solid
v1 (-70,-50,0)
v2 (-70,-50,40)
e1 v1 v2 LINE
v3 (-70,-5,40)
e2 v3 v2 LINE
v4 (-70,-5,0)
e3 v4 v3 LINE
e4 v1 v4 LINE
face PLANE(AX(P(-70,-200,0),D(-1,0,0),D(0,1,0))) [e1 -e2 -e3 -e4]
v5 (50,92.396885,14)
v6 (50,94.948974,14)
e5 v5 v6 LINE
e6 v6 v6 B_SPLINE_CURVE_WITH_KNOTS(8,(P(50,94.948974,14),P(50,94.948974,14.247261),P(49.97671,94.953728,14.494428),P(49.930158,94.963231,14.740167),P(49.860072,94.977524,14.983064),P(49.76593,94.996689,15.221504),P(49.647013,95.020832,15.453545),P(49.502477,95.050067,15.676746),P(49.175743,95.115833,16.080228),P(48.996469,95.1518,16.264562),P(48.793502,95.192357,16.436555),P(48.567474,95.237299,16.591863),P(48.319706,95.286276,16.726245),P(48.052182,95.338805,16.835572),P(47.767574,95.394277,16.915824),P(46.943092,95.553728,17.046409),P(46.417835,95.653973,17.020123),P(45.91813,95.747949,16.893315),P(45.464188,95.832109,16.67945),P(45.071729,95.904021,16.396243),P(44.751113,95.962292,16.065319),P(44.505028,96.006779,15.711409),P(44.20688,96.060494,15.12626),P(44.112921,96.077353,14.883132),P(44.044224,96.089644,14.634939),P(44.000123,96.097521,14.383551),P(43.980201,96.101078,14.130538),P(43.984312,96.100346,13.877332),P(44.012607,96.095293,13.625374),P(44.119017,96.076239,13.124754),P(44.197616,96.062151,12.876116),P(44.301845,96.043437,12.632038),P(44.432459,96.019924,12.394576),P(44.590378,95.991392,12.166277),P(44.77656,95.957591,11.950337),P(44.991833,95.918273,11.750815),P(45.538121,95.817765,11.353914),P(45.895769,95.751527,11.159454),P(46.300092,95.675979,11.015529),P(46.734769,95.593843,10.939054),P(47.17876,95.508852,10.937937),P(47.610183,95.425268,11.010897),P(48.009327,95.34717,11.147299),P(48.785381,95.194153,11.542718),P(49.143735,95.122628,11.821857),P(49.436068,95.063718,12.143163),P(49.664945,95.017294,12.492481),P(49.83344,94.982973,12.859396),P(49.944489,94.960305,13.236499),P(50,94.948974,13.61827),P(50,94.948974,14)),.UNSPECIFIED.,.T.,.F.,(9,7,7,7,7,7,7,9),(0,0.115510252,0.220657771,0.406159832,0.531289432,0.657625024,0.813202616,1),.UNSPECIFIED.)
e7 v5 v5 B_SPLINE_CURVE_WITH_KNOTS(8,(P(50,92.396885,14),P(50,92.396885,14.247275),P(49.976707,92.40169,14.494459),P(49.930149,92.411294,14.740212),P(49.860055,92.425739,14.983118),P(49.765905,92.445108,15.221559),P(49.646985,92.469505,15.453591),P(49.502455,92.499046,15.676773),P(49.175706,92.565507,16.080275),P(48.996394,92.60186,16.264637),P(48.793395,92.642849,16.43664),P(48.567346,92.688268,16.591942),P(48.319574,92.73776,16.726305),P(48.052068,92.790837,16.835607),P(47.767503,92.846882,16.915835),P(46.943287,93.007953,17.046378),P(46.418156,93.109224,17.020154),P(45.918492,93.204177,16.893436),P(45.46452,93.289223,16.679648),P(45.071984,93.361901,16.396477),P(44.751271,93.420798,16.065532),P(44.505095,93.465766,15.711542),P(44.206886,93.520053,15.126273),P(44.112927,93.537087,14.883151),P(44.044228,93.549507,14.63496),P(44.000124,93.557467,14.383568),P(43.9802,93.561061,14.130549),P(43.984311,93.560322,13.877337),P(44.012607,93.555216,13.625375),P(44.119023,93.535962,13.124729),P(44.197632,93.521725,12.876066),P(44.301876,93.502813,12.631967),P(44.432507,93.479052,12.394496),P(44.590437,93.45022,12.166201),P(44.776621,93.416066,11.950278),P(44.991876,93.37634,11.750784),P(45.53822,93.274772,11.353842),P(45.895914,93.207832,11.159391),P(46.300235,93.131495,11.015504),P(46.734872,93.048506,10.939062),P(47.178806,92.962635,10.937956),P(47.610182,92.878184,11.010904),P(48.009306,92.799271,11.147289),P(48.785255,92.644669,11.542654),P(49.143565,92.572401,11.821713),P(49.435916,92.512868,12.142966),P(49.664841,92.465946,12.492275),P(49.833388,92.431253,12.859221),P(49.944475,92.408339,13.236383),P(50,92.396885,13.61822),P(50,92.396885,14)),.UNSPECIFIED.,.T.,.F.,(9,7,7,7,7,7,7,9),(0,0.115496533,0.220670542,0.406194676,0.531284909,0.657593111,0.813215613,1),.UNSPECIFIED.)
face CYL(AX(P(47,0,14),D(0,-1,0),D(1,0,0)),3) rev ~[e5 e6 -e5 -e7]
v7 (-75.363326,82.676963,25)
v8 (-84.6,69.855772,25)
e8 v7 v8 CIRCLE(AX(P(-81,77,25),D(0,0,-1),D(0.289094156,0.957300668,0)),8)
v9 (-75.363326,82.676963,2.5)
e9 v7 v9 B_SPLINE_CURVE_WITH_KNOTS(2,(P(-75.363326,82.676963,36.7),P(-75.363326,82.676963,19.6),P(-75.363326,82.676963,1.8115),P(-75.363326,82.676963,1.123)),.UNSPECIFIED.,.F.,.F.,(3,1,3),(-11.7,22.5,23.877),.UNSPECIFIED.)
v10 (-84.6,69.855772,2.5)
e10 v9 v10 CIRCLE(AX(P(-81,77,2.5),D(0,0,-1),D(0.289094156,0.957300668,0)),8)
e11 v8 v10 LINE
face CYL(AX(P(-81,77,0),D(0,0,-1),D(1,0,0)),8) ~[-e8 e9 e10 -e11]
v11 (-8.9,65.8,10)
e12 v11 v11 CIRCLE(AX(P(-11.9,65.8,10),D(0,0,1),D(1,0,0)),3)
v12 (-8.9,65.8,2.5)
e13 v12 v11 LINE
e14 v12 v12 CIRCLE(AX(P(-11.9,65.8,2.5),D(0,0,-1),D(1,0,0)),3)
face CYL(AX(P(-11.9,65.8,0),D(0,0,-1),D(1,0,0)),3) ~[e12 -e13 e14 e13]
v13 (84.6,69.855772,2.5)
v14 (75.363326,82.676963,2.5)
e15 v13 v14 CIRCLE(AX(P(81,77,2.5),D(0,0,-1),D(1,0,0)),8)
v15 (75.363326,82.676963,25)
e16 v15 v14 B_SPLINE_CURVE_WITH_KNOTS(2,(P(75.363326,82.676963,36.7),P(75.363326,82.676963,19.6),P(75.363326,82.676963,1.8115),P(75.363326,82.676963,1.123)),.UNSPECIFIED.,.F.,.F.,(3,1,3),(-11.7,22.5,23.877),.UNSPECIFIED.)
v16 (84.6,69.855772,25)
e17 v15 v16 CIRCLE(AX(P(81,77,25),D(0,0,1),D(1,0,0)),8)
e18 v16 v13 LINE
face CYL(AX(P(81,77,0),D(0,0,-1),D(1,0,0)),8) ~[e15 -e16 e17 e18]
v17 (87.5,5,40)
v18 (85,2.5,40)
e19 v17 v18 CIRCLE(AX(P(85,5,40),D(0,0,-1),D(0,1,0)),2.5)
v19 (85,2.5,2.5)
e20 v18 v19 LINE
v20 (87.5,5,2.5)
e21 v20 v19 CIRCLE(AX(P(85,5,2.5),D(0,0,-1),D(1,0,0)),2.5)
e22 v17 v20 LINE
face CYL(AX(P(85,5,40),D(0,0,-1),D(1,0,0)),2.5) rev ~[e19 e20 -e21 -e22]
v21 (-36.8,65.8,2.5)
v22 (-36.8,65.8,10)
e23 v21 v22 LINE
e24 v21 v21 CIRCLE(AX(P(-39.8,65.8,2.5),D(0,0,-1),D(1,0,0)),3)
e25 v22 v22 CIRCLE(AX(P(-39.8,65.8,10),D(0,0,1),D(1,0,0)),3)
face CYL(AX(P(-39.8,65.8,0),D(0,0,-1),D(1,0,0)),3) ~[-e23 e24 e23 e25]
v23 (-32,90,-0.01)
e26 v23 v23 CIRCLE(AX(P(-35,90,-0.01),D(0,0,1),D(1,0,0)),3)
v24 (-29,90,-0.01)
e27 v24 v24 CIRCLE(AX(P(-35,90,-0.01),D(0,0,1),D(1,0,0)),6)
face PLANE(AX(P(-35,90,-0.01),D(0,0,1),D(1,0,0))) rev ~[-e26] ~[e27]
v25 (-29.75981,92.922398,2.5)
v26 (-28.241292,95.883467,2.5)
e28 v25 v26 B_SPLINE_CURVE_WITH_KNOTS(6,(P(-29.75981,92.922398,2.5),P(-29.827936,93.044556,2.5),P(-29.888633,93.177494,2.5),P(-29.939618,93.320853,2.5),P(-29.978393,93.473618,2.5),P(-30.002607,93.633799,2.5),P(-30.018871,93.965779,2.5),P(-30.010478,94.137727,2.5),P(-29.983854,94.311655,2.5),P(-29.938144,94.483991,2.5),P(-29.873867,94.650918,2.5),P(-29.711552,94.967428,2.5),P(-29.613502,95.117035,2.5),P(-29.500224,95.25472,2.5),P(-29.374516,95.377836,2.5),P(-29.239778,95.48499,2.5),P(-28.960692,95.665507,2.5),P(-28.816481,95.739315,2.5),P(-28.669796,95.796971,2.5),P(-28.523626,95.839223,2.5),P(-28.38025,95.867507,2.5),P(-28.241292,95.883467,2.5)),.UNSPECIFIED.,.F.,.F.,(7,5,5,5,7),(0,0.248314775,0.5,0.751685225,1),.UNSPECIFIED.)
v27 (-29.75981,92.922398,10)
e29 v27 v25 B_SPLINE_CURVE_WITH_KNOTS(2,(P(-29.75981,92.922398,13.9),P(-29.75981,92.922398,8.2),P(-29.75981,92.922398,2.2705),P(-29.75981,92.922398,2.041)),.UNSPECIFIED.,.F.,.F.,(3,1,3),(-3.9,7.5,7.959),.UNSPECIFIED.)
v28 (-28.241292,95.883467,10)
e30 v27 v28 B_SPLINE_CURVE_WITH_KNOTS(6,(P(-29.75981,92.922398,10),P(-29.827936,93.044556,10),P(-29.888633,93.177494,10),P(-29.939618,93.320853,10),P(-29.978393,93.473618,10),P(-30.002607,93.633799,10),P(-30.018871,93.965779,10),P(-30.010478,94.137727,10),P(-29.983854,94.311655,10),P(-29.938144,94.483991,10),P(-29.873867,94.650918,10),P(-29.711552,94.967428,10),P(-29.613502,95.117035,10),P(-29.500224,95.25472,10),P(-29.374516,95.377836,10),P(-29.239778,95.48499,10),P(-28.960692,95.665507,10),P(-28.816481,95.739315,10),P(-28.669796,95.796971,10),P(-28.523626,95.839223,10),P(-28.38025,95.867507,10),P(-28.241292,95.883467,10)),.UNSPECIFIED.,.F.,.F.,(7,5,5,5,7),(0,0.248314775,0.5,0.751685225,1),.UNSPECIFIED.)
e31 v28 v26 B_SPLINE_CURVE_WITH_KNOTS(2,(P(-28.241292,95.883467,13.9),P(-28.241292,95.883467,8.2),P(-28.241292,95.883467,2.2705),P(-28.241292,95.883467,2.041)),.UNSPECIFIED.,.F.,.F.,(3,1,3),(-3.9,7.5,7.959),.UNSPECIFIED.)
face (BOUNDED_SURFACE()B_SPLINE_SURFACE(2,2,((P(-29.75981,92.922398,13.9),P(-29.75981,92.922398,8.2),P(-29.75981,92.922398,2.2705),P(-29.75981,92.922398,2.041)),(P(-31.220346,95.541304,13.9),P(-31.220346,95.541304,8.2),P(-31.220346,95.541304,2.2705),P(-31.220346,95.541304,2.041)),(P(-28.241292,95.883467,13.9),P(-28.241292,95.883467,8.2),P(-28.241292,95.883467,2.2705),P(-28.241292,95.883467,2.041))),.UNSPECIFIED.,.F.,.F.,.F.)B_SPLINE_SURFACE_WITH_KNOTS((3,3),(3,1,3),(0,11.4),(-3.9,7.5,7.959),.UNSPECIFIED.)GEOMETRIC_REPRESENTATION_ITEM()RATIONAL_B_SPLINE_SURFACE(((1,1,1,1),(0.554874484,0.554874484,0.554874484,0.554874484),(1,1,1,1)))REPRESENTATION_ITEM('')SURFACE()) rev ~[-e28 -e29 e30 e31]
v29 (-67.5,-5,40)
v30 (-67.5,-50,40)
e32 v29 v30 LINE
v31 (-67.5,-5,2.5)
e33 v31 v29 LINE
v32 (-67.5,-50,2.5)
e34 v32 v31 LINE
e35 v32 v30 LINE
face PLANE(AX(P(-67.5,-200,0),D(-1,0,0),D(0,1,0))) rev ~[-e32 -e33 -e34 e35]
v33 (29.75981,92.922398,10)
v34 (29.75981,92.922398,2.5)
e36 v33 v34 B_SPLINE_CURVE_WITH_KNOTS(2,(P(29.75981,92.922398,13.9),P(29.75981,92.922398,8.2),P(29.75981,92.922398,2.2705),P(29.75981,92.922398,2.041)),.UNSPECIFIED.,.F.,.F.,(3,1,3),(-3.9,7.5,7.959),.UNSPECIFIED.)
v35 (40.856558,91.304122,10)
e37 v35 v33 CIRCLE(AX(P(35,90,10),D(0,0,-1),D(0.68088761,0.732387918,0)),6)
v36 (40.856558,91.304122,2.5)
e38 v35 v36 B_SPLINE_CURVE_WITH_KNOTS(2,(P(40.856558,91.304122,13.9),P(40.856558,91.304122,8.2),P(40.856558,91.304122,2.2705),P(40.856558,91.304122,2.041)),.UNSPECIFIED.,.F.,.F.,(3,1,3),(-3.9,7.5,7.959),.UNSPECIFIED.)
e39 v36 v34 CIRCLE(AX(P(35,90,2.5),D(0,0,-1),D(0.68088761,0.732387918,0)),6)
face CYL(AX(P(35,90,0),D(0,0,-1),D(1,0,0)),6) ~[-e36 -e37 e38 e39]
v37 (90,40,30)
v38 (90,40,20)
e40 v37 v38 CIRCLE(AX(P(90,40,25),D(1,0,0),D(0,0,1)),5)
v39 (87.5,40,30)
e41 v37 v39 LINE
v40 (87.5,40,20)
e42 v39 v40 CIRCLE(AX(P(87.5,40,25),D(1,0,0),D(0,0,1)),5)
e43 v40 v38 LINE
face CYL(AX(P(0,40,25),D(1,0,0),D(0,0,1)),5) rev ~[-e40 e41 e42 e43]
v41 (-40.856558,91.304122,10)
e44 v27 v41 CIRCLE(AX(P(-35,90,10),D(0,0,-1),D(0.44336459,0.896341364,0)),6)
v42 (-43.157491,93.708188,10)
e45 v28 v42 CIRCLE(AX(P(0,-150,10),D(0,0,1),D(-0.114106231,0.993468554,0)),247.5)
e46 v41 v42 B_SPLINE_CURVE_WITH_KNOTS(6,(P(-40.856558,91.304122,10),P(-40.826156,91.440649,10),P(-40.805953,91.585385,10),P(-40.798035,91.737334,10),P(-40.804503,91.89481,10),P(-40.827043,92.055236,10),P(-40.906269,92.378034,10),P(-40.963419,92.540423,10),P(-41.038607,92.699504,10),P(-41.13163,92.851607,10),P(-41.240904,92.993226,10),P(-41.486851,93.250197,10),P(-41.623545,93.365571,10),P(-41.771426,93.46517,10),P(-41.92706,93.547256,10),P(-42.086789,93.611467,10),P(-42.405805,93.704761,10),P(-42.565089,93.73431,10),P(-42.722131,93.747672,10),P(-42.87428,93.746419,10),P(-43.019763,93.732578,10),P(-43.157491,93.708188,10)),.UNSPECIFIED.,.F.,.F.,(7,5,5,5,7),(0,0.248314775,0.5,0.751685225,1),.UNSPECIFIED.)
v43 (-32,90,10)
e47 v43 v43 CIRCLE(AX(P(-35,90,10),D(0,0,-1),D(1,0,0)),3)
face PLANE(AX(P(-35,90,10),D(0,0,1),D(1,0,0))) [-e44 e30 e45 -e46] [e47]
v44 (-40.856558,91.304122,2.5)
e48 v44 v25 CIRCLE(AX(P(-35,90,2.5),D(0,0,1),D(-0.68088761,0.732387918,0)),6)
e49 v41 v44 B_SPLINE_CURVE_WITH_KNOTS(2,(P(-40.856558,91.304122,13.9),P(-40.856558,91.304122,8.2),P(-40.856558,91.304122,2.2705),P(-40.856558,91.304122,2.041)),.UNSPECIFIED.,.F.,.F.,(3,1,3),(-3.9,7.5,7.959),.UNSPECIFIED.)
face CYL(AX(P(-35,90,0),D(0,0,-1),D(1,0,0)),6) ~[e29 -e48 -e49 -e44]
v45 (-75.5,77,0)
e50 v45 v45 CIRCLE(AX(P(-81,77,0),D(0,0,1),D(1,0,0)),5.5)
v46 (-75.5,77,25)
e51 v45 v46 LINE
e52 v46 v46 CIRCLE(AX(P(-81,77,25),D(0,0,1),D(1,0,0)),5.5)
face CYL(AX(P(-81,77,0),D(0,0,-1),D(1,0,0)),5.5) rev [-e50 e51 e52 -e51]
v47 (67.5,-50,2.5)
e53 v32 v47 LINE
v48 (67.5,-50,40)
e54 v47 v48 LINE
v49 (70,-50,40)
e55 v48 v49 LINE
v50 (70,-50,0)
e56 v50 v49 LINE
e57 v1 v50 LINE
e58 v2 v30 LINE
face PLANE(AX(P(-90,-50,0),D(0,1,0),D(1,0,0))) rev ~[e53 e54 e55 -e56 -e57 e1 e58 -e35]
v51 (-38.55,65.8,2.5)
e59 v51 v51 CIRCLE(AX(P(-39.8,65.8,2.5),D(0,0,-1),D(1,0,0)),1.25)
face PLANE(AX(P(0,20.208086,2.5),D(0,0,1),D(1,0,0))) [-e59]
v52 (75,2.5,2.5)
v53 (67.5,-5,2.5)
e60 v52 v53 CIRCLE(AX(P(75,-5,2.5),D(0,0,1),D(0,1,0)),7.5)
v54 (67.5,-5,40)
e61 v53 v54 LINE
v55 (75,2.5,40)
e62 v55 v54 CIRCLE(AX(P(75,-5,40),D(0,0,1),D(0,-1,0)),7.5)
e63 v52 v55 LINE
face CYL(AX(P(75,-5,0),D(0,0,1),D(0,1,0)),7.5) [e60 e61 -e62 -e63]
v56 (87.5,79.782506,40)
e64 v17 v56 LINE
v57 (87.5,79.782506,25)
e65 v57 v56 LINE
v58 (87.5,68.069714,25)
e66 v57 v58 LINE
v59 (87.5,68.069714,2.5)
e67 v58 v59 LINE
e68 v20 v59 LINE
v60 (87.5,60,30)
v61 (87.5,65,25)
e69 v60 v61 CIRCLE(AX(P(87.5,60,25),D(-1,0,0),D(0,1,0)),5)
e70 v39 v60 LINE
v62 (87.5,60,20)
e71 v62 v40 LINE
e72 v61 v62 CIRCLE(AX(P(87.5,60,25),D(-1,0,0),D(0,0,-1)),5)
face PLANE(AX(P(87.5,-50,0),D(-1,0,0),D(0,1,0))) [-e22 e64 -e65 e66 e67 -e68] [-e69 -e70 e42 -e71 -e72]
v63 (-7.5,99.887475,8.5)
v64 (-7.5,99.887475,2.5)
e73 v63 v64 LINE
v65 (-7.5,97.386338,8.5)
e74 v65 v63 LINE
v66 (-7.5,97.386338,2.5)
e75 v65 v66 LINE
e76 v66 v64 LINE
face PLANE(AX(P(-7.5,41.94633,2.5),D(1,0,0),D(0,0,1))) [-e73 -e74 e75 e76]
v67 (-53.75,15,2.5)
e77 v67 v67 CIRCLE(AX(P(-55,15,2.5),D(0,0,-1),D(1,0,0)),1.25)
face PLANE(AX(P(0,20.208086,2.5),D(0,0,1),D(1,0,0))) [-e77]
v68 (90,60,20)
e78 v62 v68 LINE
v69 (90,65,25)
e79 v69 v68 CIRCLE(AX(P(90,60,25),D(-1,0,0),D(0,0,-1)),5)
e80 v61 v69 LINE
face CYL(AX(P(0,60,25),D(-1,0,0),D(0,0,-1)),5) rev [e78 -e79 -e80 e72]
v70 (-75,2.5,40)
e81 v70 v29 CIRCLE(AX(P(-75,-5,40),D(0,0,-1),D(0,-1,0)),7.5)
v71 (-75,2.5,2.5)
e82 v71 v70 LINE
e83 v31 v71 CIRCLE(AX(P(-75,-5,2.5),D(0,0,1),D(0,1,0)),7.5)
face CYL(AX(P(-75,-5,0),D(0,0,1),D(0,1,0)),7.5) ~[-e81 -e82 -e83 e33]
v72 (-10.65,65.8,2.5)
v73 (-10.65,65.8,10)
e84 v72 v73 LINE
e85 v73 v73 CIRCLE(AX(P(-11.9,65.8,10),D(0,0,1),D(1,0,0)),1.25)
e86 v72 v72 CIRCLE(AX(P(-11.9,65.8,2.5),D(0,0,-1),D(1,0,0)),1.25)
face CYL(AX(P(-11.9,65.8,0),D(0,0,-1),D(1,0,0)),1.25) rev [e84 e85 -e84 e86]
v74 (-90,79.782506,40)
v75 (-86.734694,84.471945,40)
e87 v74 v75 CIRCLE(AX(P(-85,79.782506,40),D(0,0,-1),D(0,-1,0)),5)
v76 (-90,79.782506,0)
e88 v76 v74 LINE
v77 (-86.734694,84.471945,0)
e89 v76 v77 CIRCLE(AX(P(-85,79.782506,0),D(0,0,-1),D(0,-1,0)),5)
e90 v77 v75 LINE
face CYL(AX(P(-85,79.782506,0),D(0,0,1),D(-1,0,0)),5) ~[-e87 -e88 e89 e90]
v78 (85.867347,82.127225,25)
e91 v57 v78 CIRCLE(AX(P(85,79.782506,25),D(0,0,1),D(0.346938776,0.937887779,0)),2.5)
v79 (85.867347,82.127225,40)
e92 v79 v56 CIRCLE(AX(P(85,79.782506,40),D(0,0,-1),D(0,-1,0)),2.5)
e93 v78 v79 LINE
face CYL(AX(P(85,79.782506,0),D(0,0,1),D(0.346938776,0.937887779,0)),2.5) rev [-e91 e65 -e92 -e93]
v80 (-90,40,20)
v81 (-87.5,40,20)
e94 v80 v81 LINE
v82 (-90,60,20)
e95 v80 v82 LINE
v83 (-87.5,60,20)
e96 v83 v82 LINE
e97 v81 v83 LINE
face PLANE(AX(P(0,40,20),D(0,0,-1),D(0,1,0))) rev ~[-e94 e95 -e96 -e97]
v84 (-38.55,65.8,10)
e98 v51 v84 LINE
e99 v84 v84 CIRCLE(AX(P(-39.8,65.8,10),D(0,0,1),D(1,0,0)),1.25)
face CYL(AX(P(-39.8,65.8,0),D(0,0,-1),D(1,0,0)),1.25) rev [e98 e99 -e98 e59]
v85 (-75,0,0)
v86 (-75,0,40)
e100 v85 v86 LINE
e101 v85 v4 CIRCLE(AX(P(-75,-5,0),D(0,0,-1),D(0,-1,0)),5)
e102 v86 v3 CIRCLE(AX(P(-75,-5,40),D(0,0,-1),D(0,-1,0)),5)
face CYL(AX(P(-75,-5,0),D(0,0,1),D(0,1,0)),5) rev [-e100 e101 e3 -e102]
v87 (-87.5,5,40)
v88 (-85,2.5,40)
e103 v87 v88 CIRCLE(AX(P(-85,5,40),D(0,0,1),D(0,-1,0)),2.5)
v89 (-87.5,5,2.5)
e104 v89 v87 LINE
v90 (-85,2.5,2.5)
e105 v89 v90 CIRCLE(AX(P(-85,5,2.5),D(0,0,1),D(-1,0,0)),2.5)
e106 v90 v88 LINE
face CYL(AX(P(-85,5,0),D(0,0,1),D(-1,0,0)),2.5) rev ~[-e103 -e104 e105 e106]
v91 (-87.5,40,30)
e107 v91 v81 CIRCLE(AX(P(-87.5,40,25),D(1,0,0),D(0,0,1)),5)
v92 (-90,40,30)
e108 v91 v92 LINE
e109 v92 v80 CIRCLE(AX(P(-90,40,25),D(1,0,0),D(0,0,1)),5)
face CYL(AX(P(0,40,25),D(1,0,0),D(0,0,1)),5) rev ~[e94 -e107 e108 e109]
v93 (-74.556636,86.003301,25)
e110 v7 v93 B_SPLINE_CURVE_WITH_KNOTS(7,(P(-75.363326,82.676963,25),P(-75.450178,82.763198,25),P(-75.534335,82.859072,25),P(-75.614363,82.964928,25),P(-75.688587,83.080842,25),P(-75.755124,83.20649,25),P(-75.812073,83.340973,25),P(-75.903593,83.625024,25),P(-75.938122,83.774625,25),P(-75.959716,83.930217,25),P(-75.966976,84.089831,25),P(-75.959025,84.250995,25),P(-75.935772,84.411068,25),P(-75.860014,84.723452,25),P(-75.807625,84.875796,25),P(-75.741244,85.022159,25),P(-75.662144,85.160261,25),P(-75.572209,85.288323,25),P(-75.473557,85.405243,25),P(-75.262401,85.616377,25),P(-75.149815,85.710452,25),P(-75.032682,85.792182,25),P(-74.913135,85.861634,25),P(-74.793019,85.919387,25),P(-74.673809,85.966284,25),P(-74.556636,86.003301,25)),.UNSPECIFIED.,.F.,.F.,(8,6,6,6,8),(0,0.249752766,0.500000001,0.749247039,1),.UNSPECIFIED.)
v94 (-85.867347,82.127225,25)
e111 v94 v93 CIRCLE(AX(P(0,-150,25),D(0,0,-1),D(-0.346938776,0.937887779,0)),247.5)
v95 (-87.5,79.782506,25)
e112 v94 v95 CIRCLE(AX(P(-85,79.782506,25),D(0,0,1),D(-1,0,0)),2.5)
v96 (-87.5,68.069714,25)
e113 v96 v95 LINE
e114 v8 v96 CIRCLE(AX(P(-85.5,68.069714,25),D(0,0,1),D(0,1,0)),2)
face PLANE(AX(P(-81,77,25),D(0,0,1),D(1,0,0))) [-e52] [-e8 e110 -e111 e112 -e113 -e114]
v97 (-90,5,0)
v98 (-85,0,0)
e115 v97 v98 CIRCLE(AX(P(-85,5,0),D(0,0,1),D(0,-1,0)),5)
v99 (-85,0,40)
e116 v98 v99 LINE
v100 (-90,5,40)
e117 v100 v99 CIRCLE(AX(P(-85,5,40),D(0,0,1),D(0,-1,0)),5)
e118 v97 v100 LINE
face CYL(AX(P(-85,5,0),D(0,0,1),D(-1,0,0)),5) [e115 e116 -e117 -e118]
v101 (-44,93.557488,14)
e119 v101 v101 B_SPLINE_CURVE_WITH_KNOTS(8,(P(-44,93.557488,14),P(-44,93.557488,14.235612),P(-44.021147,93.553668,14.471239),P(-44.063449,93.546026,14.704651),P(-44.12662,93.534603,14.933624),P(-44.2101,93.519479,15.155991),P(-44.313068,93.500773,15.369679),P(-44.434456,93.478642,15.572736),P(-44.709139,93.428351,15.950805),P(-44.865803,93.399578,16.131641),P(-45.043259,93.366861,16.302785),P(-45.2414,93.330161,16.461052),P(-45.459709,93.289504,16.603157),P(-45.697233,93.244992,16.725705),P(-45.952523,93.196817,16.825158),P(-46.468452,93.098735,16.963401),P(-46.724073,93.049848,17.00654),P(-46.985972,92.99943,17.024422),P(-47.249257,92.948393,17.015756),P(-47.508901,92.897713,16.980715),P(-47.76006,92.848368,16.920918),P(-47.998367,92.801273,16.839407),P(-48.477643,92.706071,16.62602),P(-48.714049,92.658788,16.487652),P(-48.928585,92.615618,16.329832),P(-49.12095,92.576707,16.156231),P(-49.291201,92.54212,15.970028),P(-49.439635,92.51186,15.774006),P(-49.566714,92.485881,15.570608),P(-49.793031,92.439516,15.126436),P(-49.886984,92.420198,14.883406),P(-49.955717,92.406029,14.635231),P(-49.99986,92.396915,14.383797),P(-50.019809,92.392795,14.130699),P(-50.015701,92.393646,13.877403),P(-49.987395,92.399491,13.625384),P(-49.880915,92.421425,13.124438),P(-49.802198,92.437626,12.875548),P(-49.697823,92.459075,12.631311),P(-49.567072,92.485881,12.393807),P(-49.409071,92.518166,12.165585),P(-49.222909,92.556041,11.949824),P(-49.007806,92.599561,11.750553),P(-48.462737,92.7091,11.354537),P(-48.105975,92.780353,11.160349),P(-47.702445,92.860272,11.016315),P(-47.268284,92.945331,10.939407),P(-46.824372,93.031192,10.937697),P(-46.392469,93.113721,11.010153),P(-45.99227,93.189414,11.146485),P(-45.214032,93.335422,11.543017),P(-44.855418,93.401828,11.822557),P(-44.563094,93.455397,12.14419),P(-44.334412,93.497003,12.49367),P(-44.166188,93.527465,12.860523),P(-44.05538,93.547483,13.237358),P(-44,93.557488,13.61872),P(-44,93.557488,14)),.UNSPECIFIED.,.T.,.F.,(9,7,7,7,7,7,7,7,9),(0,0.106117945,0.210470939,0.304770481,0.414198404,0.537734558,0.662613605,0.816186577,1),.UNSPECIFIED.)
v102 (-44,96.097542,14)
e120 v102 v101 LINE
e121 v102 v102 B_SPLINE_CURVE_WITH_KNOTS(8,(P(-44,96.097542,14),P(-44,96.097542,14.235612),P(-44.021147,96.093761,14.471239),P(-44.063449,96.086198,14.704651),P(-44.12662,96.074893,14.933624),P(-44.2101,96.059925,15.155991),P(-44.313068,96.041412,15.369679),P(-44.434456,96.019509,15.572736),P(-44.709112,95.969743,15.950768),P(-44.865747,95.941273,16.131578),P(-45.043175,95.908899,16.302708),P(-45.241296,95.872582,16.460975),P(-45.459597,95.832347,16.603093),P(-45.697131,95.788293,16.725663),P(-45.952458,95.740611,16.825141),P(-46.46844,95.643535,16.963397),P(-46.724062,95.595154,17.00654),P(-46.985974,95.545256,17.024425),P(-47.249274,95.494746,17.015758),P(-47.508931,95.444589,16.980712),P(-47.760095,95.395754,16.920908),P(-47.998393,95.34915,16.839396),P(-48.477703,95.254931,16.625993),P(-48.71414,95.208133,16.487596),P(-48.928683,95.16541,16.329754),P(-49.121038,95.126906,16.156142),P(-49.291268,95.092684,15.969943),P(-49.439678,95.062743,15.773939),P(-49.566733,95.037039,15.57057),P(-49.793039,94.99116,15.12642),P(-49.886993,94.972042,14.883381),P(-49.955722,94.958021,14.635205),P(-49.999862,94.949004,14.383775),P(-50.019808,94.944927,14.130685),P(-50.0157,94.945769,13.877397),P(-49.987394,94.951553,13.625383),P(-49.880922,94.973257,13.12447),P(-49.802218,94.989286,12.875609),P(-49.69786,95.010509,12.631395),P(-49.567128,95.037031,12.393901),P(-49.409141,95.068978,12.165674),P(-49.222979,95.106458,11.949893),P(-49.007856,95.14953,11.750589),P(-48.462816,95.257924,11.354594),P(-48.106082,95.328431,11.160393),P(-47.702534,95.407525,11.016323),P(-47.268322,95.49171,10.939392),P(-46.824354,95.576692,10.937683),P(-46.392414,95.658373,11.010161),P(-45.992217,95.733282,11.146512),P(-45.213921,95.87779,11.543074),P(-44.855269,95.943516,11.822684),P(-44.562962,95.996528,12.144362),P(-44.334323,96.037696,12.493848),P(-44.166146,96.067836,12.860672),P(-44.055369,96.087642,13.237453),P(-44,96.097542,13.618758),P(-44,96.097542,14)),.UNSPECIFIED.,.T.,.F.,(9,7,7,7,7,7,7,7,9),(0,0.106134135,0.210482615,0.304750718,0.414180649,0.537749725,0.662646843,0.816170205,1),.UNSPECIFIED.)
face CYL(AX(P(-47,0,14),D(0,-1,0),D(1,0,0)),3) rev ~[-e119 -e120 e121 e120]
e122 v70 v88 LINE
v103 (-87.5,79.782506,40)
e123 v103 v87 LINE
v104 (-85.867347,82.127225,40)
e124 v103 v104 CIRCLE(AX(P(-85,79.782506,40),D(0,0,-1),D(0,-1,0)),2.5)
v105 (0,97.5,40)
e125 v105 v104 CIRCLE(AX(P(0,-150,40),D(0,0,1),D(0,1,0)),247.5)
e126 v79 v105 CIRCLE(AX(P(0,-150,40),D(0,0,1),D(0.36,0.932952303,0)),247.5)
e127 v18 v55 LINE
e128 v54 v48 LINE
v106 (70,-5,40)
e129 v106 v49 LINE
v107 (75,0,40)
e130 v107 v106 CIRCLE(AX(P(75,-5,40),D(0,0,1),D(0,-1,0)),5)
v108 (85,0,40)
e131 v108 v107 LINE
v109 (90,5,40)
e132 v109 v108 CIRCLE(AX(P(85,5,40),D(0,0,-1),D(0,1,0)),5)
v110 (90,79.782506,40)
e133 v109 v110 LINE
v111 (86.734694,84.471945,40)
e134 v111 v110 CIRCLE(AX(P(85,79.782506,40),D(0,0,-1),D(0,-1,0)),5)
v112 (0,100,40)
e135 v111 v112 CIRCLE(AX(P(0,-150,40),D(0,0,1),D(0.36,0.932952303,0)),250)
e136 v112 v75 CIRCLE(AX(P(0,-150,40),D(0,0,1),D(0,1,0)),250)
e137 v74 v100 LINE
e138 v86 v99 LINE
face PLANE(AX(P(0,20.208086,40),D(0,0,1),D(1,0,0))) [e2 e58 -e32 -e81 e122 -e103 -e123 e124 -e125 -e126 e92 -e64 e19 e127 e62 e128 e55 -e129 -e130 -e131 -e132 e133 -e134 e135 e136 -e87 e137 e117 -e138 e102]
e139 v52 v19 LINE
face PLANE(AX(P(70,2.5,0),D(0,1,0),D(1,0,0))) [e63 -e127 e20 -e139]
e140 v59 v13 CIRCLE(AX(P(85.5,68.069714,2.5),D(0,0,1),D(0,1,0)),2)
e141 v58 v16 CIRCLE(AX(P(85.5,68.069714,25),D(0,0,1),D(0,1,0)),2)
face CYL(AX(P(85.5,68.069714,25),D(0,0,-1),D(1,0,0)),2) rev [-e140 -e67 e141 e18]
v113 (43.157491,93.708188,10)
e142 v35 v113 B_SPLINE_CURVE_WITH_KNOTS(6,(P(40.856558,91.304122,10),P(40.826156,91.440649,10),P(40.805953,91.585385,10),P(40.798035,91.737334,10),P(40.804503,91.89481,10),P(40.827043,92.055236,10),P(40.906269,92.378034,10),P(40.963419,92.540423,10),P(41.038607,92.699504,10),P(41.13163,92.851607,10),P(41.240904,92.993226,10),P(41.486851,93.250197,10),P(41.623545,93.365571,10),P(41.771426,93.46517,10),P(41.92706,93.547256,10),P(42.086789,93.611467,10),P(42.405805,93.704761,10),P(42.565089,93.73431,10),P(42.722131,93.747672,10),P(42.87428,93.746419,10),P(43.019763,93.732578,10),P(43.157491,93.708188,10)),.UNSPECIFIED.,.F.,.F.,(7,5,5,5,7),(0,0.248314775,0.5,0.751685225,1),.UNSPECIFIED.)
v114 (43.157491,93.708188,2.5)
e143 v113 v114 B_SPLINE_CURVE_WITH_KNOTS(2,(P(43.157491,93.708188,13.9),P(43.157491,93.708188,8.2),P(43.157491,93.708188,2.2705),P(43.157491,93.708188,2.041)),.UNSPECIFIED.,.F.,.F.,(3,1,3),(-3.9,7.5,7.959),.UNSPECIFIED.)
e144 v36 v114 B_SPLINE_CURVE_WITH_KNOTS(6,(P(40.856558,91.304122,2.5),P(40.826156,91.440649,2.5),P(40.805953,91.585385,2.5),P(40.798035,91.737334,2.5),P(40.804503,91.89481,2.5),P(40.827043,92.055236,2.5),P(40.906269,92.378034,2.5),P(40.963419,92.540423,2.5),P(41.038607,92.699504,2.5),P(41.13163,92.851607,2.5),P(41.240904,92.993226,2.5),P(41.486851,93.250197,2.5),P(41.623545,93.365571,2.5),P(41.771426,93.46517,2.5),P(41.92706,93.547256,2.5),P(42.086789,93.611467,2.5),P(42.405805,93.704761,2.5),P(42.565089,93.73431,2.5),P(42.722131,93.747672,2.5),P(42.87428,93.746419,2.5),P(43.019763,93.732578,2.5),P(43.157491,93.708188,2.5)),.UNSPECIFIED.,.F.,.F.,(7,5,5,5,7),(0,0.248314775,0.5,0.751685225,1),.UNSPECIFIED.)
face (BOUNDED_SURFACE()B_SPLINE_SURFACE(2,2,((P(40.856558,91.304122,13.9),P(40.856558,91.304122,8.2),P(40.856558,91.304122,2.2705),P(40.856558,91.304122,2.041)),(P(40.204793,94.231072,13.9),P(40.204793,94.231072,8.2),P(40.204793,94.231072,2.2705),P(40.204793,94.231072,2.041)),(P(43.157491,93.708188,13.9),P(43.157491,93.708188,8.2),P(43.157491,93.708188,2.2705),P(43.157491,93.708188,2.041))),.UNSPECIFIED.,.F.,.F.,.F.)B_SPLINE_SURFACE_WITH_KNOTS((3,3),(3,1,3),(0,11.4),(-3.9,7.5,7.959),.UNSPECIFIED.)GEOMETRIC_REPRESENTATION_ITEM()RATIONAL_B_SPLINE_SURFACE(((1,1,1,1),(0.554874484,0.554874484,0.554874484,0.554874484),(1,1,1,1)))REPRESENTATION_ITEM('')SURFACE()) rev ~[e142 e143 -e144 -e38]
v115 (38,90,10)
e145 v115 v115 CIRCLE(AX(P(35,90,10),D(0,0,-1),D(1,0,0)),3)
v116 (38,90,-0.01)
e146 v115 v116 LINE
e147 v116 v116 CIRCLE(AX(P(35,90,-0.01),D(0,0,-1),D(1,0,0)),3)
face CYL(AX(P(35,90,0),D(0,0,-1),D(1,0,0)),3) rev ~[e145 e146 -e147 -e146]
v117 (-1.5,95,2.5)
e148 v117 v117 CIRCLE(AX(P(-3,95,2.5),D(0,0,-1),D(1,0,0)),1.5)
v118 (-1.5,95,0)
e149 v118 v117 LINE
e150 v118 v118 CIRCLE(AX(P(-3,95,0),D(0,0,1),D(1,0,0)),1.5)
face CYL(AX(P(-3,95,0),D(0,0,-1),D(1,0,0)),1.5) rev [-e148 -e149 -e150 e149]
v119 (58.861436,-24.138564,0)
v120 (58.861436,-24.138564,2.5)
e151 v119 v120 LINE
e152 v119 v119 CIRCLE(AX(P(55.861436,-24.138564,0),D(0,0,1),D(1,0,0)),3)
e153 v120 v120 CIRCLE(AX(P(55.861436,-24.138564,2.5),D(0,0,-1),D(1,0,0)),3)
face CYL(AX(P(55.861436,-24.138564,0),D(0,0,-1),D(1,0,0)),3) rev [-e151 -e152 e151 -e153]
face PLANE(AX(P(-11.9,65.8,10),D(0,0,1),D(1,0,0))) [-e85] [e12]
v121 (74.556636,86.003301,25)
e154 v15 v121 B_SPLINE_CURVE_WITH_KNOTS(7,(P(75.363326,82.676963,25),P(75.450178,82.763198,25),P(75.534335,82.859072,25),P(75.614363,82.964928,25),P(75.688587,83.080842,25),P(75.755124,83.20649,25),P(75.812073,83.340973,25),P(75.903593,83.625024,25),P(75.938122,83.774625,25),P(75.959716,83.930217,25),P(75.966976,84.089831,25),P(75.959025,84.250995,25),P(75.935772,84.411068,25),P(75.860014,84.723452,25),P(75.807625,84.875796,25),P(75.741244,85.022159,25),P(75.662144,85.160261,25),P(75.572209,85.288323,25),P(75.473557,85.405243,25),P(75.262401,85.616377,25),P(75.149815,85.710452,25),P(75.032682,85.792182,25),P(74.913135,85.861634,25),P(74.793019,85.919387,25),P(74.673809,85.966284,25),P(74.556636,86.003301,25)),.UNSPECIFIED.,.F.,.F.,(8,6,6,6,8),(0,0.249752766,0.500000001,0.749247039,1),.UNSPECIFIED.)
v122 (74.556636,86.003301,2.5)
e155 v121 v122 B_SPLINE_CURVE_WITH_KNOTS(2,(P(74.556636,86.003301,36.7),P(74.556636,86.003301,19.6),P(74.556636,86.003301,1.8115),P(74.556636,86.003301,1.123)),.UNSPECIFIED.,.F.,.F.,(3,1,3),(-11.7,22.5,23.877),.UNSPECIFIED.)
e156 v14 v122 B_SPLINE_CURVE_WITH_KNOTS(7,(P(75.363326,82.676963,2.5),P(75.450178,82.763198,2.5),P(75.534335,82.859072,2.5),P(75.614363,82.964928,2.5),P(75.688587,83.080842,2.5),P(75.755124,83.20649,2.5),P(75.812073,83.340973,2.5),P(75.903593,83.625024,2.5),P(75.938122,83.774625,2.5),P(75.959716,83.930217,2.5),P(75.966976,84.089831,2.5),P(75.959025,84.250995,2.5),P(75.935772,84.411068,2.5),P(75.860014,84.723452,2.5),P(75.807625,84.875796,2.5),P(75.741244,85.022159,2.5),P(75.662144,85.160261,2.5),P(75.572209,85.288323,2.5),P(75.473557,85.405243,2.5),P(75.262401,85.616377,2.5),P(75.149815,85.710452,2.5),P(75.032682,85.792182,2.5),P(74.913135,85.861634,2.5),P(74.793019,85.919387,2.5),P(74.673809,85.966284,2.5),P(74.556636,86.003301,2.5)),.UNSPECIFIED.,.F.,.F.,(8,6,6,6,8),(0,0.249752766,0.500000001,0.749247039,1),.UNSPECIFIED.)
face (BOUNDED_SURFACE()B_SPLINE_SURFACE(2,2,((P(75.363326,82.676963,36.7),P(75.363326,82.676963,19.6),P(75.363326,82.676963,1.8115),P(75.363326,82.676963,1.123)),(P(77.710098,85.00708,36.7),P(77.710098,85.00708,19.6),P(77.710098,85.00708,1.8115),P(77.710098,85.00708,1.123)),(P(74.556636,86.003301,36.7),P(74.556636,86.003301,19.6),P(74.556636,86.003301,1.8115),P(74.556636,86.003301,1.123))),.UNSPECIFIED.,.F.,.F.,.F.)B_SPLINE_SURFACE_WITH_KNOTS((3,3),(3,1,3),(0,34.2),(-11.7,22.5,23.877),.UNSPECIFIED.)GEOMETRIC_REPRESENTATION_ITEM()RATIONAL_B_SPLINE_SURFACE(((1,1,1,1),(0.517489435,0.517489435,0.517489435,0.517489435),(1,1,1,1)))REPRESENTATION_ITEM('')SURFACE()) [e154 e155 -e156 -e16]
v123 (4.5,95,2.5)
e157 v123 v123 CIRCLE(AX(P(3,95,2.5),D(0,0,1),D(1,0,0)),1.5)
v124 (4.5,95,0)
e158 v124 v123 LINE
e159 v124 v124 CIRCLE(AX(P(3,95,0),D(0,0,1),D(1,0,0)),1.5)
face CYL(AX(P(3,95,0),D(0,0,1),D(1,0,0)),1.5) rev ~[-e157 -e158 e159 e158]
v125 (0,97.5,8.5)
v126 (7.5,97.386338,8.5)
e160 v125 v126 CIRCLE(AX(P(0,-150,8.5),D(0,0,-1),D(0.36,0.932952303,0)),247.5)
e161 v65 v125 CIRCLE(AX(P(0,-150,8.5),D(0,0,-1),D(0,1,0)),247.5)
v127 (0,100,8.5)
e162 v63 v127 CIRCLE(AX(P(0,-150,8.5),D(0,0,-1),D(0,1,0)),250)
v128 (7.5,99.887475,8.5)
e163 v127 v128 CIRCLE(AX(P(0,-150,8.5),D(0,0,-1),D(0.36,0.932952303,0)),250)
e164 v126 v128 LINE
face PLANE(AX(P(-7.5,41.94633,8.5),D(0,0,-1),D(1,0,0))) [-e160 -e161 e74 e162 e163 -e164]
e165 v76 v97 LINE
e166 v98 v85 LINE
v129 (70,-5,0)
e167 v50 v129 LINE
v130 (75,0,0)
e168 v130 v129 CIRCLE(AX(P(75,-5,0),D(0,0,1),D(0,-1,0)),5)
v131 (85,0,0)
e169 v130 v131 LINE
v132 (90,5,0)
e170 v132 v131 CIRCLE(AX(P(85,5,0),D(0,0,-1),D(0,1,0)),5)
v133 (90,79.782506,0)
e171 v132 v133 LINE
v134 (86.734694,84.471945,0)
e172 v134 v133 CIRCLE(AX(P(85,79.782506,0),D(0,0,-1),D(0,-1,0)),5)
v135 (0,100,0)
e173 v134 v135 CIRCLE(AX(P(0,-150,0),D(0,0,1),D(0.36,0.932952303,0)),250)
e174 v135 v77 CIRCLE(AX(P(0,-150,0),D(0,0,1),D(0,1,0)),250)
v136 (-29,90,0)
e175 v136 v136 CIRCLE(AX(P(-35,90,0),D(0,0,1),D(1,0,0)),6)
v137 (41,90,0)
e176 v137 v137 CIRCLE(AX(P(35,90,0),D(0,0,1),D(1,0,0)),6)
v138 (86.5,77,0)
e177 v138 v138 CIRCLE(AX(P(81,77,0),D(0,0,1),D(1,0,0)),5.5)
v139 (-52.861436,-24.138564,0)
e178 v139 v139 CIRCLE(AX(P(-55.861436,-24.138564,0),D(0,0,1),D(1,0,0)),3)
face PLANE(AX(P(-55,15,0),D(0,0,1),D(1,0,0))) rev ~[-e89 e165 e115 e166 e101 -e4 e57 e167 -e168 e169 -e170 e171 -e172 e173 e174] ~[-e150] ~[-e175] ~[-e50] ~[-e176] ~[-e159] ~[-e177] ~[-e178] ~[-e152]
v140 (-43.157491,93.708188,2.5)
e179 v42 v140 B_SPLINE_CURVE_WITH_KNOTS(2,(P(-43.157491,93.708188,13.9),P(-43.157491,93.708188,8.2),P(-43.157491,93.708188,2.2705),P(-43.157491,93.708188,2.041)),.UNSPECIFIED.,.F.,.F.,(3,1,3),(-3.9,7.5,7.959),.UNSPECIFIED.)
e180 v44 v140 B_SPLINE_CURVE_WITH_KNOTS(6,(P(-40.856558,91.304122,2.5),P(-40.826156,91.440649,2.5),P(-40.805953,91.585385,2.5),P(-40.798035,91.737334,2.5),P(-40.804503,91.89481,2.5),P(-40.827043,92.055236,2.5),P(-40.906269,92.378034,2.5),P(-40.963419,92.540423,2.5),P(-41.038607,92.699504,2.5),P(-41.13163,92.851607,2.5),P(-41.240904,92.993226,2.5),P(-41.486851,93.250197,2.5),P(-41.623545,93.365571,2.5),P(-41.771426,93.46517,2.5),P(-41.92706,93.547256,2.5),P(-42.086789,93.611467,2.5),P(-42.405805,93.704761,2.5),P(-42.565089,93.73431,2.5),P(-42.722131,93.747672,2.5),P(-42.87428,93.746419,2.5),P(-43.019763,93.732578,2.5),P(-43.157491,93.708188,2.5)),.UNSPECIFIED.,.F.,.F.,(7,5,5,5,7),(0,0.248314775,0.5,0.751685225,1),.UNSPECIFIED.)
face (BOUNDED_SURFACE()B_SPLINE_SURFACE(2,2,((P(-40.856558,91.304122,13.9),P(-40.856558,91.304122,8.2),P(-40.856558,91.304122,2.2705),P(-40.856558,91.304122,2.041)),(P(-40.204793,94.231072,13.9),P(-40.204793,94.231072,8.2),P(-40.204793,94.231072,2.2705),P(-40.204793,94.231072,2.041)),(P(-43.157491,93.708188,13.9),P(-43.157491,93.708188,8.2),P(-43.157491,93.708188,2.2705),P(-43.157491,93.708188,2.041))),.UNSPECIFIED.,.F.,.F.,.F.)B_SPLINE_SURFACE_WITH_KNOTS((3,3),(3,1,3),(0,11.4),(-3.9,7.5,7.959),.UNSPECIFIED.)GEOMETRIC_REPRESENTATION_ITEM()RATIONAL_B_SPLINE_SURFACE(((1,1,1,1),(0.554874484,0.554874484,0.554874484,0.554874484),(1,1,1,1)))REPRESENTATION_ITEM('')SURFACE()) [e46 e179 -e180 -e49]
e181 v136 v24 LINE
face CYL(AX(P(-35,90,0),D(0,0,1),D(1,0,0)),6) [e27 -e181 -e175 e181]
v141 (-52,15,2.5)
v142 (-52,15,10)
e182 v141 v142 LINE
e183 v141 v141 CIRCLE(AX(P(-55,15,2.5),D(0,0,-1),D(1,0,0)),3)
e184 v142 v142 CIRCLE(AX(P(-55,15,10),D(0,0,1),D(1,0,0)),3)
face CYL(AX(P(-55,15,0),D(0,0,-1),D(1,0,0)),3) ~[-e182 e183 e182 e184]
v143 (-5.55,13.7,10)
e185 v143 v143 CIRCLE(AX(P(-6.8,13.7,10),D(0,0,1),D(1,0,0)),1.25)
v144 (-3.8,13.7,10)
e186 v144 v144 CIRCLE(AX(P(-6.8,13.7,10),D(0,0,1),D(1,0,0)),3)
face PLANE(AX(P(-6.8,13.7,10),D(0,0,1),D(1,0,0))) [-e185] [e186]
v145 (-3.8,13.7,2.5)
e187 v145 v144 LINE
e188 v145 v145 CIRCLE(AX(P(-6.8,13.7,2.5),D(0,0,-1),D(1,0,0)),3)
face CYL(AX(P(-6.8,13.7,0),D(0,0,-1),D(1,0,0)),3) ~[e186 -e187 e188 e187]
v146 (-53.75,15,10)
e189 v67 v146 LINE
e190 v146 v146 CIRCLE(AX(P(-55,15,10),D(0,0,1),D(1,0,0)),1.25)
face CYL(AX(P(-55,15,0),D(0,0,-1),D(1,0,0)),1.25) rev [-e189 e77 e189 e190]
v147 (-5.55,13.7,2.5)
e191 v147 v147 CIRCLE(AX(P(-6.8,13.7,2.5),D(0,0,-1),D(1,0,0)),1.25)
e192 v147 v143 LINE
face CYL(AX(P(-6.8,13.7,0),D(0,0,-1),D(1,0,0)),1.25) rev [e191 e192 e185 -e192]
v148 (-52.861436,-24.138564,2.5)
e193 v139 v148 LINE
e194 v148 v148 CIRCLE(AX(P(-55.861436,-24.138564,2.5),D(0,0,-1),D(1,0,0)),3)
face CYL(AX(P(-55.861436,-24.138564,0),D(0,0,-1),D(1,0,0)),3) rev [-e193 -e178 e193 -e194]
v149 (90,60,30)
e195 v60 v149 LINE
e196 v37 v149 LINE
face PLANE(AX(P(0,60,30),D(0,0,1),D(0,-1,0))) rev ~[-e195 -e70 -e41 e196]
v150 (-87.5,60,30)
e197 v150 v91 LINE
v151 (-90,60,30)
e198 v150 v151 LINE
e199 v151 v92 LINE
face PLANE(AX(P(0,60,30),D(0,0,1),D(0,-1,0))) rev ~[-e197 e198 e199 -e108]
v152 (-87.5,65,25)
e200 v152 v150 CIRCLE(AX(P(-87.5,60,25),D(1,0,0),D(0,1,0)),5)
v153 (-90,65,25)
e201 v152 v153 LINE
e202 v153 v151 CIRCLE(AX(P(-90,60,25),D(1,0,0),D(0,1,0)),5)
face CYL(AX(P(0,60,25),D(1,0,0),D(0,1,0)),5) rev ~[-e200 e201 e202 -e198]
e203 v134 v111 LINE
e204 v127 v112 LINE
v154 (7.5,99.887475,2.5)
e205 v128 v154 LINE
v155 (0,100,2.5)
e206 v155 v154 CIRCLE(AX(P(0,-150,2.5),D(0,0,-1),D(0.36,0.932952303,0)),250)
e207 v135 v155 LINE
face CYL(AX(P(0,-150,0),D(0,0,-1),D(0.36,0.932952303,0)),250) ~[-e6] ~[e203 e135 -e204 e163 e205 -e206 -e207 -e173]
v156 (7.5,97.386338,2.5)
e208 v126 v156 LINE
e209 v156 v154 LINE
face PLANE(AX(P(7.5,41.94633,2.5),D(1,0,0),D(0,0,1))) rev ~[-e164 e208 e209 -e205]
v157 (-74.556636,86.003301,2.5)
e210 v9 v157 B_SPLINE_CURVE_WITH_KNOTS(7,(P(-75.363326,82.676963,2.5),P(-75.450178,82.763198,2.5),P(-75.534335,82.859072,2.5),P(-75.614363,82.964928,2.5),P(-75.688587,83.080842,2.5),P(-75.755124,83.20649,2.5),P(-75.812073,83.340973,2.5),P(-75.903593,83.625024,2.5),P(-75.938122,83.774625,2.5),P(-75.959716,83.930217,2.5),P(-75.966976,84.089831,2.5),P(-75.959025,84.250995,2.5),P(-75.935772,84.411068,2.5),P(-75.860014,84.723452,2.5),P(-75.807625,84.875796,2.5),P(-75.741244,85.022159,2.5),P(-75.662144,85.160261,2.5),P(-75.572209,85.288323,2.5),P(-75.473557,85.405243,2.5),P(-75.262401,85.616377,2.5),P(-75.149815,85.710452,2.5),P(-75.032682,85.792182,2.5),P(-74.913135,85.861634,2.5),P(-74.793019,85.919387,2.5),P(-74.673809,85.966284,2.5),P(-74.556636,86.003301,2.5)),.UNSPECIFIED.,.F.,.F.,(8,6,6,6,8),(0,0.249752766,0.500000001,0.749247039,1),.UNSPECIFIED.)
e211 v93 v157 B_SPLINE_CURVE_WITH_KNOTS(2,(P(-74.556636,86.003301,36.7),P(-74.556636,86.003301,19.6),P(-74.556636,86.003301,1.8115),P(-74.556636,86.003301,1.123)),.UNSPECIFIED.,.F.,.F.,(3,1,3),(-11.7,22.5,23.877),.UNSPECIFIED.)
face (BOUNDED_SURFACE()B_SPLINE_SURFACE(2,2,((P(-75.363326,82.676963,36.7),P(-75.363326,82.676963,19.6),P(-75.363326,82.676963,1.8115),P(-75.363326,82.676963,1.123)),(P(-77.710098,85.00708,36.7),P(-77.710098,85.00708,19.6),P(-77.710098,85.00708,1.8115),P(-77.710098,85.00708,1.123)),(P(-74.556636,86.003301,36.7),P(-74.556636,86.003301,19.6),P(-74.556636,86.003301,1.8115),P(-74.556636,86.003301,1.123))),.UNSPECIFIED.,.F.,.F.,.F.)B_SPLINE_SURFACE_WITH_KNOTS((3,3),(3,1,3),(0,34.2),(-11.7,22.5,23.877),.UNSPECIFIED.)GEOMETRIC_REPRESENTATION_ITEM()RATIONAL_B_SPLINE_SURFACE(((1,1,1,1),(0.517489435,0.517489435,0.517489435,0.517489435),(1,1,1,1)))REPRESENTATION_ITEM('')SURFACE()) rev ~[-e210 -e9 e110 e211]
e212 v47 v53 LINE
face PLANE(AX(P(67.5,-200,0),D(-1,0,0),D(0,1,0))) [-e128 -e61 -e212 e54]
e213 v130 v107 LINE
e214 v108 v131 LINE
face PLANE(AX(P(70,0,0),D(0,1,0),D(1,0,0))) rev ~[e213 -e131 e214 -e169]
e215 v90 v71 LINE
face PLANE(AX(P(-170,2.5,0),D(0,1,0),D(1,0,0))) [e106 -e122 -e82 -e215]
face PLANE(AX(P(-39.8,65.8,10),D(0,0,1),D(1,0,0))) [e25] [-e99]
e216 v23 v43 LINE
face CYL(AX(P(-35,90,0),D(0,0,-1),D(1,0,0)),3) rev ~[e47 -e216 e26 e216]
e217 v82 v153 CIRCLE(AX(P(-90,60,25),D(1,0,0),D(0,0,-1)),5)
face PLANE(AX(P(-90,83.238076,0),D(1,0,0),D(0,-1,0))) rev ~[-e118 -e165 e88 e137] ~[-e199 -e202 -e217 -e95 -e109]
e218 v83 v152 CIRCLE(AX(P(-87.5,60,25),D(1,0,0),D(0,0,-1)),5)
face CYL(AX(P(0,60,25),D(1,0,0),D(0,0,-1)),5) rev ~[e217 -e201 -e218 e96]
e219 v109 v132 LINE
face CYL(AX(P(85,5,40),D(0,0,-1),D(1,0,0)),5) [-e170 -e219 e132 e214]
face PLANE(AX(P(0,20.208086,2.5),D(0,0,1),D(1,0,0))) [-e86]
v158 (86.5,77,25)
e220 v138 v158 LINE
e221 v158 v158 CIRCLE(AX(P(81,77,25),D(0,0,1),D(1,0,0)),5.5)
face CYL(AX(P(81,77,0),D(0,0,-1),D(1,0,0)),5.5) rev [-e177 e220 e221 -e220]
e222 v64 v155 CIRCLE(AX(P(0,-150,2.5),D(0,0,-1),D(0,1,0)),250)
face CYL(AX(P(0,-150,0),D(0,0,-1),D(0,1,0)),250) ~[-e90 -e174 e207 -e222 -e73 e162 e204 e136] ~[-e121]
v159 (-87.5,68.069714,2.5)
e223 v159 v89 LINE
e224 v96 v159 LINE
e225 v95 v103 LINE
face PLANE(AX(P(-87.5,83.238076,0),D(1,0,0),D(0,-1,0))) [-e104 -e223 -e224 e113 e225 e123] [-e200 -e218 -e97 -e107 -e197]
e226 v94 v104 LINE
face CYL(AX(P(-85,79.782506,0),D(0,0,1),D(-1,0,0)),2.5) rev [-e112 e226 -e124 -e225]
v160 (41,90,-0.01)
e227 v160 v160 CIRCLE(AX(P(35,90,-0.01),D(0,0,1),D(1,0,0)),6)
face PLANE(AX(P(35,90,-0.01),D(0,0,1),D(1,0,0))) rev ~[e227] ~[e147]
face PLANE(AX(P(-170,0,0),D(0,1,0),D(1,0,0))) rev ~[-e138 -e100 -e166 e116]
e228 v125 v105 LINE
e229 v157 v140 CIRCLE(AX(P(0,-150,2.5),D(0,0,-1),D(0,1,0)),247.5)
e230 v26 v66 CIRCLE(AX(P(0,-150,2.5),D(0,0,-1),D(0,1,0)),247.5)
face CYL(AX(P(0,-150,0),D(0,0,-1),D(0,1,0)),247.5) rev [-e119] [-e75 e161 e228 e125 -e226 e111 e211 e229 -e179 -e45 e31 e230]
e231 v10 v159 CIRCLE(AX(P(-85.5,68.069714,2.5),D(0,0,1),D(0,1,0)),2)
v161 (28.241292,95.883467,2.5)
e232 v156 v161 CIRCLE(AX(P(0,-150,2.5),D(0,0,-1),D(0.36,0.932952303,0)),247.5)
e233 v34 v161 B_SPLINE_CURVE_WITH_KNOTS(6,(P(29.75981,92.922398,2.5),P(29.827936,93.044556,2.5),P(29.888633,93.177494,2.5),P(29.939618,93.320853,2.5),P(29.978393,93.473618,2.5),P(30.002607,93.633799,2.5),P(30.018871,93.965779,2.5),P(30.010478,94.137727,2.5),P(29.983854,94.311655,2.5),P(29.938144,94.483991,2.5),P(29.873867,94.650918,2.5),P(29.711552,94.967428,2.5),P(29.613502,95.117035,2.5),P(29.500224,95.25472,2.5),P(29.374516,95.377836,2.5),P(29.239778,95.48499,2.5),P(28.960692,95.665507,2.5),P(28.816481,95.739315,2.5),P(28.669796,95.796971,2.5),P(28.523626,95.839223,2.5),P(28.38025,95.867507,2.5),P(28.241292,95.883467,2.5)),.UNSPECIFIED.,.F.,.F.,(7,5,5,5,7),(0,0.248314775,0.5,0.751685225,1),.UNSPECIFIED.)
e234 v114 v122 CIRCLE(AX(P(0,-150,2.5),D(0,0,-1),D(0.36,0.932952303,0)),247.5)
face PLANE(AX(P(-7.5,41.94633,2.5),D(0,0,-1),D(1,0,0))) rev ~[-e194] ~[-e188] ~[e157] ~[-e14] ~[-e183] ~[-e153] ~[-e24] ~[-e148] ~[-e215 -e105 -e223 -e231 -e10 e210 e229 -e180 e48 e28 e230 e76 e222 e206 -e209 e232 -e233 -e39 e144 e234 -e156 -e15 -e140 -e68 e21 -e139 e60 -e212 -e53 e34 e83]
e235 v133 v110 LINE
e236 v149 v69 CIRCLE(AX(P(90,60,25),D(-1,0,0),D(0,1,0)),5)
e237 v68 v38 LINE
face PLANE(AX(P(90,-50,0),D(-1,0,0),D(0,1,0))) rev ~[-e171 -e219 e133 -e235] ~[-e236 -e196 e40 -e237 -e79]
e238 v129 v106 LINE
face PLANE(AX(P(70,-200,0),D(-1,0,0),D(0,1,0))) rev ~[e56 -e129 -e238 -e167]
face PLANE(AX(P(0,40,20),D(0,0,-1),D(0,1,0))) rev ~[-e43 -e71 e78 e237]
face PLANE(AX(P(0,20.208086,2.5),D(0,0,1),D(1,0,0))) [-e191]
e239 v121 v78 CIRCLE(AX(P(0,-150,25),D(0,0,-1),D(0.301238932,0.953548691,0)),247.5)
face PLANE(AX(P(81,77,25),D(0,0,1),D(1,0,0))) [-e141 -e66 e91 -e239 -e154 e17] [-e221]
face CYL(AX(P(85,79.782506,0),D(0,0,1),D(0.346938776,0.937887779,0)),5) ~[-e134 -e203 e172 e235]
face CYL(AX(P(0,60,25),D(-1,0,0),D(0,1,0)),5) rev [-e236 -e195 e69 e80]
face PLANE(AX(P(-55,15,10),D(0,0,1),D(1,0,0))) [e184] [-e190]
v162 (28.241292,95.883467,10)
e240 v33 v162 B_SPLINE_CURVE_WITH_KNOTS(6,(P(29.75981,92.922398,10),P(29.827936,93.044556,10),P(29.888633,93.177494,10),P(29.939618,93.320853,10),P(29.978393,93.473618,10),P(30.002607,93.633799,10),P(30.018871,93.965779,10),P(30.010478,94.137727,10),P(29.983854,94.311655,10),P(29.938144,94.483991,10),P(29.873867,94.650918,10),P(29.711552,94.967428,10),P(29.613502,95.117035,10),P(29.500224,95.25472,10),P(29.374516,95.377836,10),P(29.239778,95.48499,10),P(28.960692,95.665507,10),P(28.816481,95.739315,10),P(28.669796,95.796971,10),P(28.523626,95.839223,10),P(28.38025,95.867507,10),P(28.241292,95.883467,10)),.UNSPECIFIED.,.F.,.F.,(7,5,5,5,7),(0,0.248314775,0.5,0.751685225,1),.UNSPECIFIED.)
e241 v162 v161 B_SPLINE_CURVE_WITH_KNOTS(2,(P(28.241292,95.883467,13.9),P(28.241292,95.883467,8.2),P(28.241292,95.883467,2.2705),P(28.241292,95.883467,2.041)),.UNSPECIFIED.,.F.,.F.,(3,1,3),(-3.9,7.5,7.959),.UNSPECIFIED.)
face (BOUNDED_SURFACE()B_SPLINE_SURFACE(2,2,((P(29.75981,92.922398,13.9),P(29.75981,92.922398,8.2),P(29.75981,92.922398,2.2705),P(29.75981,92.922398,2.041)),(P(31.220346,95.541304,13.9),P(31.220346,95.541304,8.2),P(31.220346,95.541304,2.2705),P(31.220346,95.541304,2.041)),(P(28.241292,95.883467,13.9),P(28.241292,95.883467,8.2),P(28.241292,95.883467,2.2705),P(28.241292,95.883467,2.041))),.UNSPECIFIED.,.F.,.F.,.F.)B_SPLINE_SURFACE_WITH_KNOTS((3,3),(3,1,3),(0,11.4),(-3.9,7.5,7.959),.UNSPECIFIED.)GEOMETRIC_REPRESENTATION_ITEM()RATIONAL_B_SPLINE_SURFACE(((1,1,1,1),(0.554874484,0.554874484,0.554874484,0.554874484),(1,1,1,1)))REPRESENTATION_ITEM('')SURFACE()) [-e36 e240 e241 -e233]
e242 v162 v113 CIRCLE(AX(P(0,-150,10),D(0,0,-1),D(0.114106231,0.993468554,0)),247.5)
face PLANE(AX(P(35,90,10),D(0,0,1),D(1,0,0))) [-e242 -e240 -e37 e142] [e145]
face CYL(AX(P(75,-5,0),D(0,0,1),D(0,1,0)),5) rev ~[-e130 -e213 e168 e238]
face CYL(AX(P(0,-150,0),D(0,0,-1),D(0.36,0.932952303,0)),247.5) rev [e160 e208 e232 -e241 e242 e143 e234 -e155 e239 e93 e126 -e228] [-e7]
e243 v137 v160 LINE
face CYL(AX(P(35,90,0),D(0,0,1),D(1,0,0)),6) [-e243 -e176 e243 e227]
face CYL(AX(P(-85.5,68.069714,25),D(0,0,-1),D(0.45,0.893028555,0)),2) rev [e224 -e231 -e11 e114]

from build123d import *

# Parameters (mm, degrees)
F1_DEPTH       = 40
F2_W           = 100
F2_H           = 200
F3_DEPTH       = 100
F4_R           = 5
F5_T           = -2.5
F6_R           = 3
F7_DEPTH       = 25
F8_R           = 8
F9_DEPTH       = 25
F10_R          = 5.5
F11_DEPTH      = 25
F12_R          = 3
F12_R_2        = 1.25
F13_DEPTH      = 10
F14_R          = 3
F15_DEPTH      = 150
F17_START      = -41.94633
F16_W          = 15
F16_H          = 6
F17_DEPTH      = 208.05367
F18_R          = 1.5
F19_DEPTH      = 12.5
F20_R          = 6
F21_DEPTH      = 0.01
F21_DEPTH_BACK = 10
F22_R          = 3
F23_DEPTH      = 12.5
F24_R          = 2
F26_DEPTH      = 150


with BuildPart() as f1:
    # F0 (on Top) → F1 (new body)
    with BuildSketch(Plane.XY):
        with BuildLine():
            Line((-90, 83.2380757938), (-90, -50))
            Line((-90, -50), (90, -50))
            Line((90, -50), (90, 83.2380757938))
            ThreePointArc((90, 83.2380757938), (45.7737973711, 95.7737973711), (0, 100))
            ThreePointArc((0, 100), (-45.7737973711, 95.7737973711), (-90, 83.2380757938))
        make_face()
    extrude(amount=F1_DEPTH)

    # F2 (on Top) → F3 (cut)
    with BuildSketch(Plane.XY):
        with Locations((-120, -100)):
            Rectangle(F2_W, F2_H)
        with Locations((120, -100)):
            Rectangle(F2_W, F2_H)
    extrude(amount=F3_DEPTH, mode=Mode.SUBTRACT)

    # F4
    f4_edges = [f1.edges().sort_by_distance(p)[0] for p in [
        (-90, 83.238076, 20),
        (90, 83.238076, 20),
        (90, 0, 20),
        (70, 0, 20),
        (-90, 0, 20),
        (-70, 0, 20),
    ]]
    fillet(f4_edges, radius=F4_R)

    # F5
    f5_openings = [f1.faces().sort_by_distance(p)[0] for p in [
        (0, 26.262097, 40),
        (0, -50, 20),
    ]]
    offset(amount=F5_T, openings=f5_openings)

    # F6 (on Top) → F7 (cut)
    with BuildSketch(Plane.XY):
        with Locations((-55.8614357137, -24.1385642863)):
            Circle(F6_R)
        with Locations((55.8614357137, -24.1385642863)):
            Circle(F6_R)
    extrude(amount=F7_DEPTH, mode=Mode.SUBTRACT)

    # F8 (on Top) → F9 (join)
    with BuildSketch(Plane.XY):
        with Locations((-81, 77)):
            Circle(F8_R)
        with Locations((81, 77)):
            Circle(F8_R)
    extrude(amount=F9_DEPTH)

    # F10 (on Top) → F11 (cut)
    with BuildSketch(Plane.XY):
        with Locations((-81, 77)):
            Circle(F10_R)
        with Locations((81, 77)):
            Circle(F10_R)
    extrude(amount=F11_DEPTH, mode=Mode.SUBTRACT)

    # F12 (on Top) → F13 (join)
    with BuildSketch(Plane.XY):
        with Locations((-55, 15)):
            Circle(F12_R)
        with Locations((-55, 15)):
            Circle(F12_R_2, mode=Mode.SUBTRACT)
        with Locations((-39.8, 65.8)):
            Circle(F12_R)
        with Locations((-39.8, 65.8)):
            Circle(F12_R_2, mode=Mode.SUBTRACT)
        with Locations((-11.9, 65.8)):
            Circle(F12_R)
        with Locations((-11.9, 65.8)):
            Circle(F12_R_2, mode=Mode.SUBTRACT)
        with Locations((-6.8, 13.7)):
            Circle(F12_R)
        with Locations((-6.8, 13.7)):
            Circle(F12_R_2, mode=Mode.SUBTRACT)
    extrude(amount=F13_DEPTH)

    # F14 (on Front) → F15 (cut, symmetric)
    with BuildSketch(Plane.XZ):
        with Locations((47, 14)):
            Circle(F14_R)
        with Locations((-47, 14)):
            Circle(F14_R)
    extrude(amount=F15_DEPTH, both=True, mode=Mode.SUBTRACT)

    # F16 (on Front) → F17 (cut)
    with BuildSketch(Plane.XZ.offset(F17_START)):
        with Locations((0, 5.5)):
            Rectangle(F16_W, F16_H)
    extrude(amount=-F17_DEPTH, mode=Mode.SUBTRACT)

    # F18 (on Top) → F19 (cut, symmetric)
    with BuildSketch(Plane.XY):
        with Locations((-3, 95)):
            Circle(F18_R)
        with Locations((3, 95)):
            Circle(F18_R)
    extrude(amount=F19_DEPTH, both=True, mode=Mode.SUBTRACT)

    # F20 (on Top) → F21 (join, two sides)
    with BuildSketch(Plane.XY) as f21_sk:
        with Locations((-35, 90)):
            Circle(F20_R)
        with Locations((35, 90)):
            Circle(F20_R)
    extrude(amount=-F21_DEPTH)
    extrude(f21_sk.sketch, amount=F21_DEPTH_BACK)

    # F22 (on face) → F23 (cut, symmetric)
    with BuildSketch(Plane(origin=(0, 0, 0), x_dir=(1, 0, 0), z_dir=(0, 0, -1))):
        with Locations((-35, -90)):
            Circle(F22_R)
        with Locations((35, -90)):
            Circle(F22_R)
    extrude(amount=F23_DEPTH, both=True, mode=Mode.SUBTRACT)

    # F24
    f24_edges = [f1.edges().sort_by_distance(p)[0] for p in [
        (-87.5, 72.33631, 13.75),
        (-78.687247, 84.658405, 13.75),
        (-32.339812, 95.378048, 6.25),
        (-39.085326, 94.394328, 6.25),
        (39.085326, 94.394328, 6.25),
        (32.339812, 95.378048, 6.25),
        (78.687247, 84.658405, 13.75),
        (87.5, 72.33631, 13.75),
    ]]
    fillet(f24_edges, radius=F24_R)

    # F25 (on Right) → F26 (cut, symmetric)
    with BuildSketch(Plane.YZ):
        with BuildLine():
            Line((40, 20), (40, 30))
            ThreePointArc((40, 30), (35, 25), (40, 20))
        make_face()
        with BuildLine():
            ThreePointArc((65, 25), (63.5355339059, 28.5355339059), (60, 30))
            Line((60, 30), (60, 20))
            ThreePointArc((60, 20), (63.5355339059, 21.4644660941), (65, 25))
        make_face()
        with BuildLine():
            Line((60, 30), (40, 30))
            ThreePointArc((40, 30), (43.5355339059, 28.5355339059), (45, 25))
            ThreePointArc((45, 25), (43.5355339059, 21.4644660941), (40, 20))
            Line((40, 20), (60, 20))
            ThreePointArc((60, 20), (55, 25), (60, 30))
        make_face()
        with BuildLine():
            ThreePointArc((45, 25), (43.5355339059, 28.5355339059), (40, 30))
            Line((40, 30), (40, 20))
            ThreePointArc((40, 20), (43.5355339059, 21.4644660941), (45, 25))
        make_face()
        with BuildLine():
            Line((60, 20), (60, 30))
            ThreePointArc((60, 30), (55, 25), (60, 20))
        make_face()
    extrude(amount=F26_DEPTH, both=True, mode=Mode.SUBTRACT)


solid = f1.part
